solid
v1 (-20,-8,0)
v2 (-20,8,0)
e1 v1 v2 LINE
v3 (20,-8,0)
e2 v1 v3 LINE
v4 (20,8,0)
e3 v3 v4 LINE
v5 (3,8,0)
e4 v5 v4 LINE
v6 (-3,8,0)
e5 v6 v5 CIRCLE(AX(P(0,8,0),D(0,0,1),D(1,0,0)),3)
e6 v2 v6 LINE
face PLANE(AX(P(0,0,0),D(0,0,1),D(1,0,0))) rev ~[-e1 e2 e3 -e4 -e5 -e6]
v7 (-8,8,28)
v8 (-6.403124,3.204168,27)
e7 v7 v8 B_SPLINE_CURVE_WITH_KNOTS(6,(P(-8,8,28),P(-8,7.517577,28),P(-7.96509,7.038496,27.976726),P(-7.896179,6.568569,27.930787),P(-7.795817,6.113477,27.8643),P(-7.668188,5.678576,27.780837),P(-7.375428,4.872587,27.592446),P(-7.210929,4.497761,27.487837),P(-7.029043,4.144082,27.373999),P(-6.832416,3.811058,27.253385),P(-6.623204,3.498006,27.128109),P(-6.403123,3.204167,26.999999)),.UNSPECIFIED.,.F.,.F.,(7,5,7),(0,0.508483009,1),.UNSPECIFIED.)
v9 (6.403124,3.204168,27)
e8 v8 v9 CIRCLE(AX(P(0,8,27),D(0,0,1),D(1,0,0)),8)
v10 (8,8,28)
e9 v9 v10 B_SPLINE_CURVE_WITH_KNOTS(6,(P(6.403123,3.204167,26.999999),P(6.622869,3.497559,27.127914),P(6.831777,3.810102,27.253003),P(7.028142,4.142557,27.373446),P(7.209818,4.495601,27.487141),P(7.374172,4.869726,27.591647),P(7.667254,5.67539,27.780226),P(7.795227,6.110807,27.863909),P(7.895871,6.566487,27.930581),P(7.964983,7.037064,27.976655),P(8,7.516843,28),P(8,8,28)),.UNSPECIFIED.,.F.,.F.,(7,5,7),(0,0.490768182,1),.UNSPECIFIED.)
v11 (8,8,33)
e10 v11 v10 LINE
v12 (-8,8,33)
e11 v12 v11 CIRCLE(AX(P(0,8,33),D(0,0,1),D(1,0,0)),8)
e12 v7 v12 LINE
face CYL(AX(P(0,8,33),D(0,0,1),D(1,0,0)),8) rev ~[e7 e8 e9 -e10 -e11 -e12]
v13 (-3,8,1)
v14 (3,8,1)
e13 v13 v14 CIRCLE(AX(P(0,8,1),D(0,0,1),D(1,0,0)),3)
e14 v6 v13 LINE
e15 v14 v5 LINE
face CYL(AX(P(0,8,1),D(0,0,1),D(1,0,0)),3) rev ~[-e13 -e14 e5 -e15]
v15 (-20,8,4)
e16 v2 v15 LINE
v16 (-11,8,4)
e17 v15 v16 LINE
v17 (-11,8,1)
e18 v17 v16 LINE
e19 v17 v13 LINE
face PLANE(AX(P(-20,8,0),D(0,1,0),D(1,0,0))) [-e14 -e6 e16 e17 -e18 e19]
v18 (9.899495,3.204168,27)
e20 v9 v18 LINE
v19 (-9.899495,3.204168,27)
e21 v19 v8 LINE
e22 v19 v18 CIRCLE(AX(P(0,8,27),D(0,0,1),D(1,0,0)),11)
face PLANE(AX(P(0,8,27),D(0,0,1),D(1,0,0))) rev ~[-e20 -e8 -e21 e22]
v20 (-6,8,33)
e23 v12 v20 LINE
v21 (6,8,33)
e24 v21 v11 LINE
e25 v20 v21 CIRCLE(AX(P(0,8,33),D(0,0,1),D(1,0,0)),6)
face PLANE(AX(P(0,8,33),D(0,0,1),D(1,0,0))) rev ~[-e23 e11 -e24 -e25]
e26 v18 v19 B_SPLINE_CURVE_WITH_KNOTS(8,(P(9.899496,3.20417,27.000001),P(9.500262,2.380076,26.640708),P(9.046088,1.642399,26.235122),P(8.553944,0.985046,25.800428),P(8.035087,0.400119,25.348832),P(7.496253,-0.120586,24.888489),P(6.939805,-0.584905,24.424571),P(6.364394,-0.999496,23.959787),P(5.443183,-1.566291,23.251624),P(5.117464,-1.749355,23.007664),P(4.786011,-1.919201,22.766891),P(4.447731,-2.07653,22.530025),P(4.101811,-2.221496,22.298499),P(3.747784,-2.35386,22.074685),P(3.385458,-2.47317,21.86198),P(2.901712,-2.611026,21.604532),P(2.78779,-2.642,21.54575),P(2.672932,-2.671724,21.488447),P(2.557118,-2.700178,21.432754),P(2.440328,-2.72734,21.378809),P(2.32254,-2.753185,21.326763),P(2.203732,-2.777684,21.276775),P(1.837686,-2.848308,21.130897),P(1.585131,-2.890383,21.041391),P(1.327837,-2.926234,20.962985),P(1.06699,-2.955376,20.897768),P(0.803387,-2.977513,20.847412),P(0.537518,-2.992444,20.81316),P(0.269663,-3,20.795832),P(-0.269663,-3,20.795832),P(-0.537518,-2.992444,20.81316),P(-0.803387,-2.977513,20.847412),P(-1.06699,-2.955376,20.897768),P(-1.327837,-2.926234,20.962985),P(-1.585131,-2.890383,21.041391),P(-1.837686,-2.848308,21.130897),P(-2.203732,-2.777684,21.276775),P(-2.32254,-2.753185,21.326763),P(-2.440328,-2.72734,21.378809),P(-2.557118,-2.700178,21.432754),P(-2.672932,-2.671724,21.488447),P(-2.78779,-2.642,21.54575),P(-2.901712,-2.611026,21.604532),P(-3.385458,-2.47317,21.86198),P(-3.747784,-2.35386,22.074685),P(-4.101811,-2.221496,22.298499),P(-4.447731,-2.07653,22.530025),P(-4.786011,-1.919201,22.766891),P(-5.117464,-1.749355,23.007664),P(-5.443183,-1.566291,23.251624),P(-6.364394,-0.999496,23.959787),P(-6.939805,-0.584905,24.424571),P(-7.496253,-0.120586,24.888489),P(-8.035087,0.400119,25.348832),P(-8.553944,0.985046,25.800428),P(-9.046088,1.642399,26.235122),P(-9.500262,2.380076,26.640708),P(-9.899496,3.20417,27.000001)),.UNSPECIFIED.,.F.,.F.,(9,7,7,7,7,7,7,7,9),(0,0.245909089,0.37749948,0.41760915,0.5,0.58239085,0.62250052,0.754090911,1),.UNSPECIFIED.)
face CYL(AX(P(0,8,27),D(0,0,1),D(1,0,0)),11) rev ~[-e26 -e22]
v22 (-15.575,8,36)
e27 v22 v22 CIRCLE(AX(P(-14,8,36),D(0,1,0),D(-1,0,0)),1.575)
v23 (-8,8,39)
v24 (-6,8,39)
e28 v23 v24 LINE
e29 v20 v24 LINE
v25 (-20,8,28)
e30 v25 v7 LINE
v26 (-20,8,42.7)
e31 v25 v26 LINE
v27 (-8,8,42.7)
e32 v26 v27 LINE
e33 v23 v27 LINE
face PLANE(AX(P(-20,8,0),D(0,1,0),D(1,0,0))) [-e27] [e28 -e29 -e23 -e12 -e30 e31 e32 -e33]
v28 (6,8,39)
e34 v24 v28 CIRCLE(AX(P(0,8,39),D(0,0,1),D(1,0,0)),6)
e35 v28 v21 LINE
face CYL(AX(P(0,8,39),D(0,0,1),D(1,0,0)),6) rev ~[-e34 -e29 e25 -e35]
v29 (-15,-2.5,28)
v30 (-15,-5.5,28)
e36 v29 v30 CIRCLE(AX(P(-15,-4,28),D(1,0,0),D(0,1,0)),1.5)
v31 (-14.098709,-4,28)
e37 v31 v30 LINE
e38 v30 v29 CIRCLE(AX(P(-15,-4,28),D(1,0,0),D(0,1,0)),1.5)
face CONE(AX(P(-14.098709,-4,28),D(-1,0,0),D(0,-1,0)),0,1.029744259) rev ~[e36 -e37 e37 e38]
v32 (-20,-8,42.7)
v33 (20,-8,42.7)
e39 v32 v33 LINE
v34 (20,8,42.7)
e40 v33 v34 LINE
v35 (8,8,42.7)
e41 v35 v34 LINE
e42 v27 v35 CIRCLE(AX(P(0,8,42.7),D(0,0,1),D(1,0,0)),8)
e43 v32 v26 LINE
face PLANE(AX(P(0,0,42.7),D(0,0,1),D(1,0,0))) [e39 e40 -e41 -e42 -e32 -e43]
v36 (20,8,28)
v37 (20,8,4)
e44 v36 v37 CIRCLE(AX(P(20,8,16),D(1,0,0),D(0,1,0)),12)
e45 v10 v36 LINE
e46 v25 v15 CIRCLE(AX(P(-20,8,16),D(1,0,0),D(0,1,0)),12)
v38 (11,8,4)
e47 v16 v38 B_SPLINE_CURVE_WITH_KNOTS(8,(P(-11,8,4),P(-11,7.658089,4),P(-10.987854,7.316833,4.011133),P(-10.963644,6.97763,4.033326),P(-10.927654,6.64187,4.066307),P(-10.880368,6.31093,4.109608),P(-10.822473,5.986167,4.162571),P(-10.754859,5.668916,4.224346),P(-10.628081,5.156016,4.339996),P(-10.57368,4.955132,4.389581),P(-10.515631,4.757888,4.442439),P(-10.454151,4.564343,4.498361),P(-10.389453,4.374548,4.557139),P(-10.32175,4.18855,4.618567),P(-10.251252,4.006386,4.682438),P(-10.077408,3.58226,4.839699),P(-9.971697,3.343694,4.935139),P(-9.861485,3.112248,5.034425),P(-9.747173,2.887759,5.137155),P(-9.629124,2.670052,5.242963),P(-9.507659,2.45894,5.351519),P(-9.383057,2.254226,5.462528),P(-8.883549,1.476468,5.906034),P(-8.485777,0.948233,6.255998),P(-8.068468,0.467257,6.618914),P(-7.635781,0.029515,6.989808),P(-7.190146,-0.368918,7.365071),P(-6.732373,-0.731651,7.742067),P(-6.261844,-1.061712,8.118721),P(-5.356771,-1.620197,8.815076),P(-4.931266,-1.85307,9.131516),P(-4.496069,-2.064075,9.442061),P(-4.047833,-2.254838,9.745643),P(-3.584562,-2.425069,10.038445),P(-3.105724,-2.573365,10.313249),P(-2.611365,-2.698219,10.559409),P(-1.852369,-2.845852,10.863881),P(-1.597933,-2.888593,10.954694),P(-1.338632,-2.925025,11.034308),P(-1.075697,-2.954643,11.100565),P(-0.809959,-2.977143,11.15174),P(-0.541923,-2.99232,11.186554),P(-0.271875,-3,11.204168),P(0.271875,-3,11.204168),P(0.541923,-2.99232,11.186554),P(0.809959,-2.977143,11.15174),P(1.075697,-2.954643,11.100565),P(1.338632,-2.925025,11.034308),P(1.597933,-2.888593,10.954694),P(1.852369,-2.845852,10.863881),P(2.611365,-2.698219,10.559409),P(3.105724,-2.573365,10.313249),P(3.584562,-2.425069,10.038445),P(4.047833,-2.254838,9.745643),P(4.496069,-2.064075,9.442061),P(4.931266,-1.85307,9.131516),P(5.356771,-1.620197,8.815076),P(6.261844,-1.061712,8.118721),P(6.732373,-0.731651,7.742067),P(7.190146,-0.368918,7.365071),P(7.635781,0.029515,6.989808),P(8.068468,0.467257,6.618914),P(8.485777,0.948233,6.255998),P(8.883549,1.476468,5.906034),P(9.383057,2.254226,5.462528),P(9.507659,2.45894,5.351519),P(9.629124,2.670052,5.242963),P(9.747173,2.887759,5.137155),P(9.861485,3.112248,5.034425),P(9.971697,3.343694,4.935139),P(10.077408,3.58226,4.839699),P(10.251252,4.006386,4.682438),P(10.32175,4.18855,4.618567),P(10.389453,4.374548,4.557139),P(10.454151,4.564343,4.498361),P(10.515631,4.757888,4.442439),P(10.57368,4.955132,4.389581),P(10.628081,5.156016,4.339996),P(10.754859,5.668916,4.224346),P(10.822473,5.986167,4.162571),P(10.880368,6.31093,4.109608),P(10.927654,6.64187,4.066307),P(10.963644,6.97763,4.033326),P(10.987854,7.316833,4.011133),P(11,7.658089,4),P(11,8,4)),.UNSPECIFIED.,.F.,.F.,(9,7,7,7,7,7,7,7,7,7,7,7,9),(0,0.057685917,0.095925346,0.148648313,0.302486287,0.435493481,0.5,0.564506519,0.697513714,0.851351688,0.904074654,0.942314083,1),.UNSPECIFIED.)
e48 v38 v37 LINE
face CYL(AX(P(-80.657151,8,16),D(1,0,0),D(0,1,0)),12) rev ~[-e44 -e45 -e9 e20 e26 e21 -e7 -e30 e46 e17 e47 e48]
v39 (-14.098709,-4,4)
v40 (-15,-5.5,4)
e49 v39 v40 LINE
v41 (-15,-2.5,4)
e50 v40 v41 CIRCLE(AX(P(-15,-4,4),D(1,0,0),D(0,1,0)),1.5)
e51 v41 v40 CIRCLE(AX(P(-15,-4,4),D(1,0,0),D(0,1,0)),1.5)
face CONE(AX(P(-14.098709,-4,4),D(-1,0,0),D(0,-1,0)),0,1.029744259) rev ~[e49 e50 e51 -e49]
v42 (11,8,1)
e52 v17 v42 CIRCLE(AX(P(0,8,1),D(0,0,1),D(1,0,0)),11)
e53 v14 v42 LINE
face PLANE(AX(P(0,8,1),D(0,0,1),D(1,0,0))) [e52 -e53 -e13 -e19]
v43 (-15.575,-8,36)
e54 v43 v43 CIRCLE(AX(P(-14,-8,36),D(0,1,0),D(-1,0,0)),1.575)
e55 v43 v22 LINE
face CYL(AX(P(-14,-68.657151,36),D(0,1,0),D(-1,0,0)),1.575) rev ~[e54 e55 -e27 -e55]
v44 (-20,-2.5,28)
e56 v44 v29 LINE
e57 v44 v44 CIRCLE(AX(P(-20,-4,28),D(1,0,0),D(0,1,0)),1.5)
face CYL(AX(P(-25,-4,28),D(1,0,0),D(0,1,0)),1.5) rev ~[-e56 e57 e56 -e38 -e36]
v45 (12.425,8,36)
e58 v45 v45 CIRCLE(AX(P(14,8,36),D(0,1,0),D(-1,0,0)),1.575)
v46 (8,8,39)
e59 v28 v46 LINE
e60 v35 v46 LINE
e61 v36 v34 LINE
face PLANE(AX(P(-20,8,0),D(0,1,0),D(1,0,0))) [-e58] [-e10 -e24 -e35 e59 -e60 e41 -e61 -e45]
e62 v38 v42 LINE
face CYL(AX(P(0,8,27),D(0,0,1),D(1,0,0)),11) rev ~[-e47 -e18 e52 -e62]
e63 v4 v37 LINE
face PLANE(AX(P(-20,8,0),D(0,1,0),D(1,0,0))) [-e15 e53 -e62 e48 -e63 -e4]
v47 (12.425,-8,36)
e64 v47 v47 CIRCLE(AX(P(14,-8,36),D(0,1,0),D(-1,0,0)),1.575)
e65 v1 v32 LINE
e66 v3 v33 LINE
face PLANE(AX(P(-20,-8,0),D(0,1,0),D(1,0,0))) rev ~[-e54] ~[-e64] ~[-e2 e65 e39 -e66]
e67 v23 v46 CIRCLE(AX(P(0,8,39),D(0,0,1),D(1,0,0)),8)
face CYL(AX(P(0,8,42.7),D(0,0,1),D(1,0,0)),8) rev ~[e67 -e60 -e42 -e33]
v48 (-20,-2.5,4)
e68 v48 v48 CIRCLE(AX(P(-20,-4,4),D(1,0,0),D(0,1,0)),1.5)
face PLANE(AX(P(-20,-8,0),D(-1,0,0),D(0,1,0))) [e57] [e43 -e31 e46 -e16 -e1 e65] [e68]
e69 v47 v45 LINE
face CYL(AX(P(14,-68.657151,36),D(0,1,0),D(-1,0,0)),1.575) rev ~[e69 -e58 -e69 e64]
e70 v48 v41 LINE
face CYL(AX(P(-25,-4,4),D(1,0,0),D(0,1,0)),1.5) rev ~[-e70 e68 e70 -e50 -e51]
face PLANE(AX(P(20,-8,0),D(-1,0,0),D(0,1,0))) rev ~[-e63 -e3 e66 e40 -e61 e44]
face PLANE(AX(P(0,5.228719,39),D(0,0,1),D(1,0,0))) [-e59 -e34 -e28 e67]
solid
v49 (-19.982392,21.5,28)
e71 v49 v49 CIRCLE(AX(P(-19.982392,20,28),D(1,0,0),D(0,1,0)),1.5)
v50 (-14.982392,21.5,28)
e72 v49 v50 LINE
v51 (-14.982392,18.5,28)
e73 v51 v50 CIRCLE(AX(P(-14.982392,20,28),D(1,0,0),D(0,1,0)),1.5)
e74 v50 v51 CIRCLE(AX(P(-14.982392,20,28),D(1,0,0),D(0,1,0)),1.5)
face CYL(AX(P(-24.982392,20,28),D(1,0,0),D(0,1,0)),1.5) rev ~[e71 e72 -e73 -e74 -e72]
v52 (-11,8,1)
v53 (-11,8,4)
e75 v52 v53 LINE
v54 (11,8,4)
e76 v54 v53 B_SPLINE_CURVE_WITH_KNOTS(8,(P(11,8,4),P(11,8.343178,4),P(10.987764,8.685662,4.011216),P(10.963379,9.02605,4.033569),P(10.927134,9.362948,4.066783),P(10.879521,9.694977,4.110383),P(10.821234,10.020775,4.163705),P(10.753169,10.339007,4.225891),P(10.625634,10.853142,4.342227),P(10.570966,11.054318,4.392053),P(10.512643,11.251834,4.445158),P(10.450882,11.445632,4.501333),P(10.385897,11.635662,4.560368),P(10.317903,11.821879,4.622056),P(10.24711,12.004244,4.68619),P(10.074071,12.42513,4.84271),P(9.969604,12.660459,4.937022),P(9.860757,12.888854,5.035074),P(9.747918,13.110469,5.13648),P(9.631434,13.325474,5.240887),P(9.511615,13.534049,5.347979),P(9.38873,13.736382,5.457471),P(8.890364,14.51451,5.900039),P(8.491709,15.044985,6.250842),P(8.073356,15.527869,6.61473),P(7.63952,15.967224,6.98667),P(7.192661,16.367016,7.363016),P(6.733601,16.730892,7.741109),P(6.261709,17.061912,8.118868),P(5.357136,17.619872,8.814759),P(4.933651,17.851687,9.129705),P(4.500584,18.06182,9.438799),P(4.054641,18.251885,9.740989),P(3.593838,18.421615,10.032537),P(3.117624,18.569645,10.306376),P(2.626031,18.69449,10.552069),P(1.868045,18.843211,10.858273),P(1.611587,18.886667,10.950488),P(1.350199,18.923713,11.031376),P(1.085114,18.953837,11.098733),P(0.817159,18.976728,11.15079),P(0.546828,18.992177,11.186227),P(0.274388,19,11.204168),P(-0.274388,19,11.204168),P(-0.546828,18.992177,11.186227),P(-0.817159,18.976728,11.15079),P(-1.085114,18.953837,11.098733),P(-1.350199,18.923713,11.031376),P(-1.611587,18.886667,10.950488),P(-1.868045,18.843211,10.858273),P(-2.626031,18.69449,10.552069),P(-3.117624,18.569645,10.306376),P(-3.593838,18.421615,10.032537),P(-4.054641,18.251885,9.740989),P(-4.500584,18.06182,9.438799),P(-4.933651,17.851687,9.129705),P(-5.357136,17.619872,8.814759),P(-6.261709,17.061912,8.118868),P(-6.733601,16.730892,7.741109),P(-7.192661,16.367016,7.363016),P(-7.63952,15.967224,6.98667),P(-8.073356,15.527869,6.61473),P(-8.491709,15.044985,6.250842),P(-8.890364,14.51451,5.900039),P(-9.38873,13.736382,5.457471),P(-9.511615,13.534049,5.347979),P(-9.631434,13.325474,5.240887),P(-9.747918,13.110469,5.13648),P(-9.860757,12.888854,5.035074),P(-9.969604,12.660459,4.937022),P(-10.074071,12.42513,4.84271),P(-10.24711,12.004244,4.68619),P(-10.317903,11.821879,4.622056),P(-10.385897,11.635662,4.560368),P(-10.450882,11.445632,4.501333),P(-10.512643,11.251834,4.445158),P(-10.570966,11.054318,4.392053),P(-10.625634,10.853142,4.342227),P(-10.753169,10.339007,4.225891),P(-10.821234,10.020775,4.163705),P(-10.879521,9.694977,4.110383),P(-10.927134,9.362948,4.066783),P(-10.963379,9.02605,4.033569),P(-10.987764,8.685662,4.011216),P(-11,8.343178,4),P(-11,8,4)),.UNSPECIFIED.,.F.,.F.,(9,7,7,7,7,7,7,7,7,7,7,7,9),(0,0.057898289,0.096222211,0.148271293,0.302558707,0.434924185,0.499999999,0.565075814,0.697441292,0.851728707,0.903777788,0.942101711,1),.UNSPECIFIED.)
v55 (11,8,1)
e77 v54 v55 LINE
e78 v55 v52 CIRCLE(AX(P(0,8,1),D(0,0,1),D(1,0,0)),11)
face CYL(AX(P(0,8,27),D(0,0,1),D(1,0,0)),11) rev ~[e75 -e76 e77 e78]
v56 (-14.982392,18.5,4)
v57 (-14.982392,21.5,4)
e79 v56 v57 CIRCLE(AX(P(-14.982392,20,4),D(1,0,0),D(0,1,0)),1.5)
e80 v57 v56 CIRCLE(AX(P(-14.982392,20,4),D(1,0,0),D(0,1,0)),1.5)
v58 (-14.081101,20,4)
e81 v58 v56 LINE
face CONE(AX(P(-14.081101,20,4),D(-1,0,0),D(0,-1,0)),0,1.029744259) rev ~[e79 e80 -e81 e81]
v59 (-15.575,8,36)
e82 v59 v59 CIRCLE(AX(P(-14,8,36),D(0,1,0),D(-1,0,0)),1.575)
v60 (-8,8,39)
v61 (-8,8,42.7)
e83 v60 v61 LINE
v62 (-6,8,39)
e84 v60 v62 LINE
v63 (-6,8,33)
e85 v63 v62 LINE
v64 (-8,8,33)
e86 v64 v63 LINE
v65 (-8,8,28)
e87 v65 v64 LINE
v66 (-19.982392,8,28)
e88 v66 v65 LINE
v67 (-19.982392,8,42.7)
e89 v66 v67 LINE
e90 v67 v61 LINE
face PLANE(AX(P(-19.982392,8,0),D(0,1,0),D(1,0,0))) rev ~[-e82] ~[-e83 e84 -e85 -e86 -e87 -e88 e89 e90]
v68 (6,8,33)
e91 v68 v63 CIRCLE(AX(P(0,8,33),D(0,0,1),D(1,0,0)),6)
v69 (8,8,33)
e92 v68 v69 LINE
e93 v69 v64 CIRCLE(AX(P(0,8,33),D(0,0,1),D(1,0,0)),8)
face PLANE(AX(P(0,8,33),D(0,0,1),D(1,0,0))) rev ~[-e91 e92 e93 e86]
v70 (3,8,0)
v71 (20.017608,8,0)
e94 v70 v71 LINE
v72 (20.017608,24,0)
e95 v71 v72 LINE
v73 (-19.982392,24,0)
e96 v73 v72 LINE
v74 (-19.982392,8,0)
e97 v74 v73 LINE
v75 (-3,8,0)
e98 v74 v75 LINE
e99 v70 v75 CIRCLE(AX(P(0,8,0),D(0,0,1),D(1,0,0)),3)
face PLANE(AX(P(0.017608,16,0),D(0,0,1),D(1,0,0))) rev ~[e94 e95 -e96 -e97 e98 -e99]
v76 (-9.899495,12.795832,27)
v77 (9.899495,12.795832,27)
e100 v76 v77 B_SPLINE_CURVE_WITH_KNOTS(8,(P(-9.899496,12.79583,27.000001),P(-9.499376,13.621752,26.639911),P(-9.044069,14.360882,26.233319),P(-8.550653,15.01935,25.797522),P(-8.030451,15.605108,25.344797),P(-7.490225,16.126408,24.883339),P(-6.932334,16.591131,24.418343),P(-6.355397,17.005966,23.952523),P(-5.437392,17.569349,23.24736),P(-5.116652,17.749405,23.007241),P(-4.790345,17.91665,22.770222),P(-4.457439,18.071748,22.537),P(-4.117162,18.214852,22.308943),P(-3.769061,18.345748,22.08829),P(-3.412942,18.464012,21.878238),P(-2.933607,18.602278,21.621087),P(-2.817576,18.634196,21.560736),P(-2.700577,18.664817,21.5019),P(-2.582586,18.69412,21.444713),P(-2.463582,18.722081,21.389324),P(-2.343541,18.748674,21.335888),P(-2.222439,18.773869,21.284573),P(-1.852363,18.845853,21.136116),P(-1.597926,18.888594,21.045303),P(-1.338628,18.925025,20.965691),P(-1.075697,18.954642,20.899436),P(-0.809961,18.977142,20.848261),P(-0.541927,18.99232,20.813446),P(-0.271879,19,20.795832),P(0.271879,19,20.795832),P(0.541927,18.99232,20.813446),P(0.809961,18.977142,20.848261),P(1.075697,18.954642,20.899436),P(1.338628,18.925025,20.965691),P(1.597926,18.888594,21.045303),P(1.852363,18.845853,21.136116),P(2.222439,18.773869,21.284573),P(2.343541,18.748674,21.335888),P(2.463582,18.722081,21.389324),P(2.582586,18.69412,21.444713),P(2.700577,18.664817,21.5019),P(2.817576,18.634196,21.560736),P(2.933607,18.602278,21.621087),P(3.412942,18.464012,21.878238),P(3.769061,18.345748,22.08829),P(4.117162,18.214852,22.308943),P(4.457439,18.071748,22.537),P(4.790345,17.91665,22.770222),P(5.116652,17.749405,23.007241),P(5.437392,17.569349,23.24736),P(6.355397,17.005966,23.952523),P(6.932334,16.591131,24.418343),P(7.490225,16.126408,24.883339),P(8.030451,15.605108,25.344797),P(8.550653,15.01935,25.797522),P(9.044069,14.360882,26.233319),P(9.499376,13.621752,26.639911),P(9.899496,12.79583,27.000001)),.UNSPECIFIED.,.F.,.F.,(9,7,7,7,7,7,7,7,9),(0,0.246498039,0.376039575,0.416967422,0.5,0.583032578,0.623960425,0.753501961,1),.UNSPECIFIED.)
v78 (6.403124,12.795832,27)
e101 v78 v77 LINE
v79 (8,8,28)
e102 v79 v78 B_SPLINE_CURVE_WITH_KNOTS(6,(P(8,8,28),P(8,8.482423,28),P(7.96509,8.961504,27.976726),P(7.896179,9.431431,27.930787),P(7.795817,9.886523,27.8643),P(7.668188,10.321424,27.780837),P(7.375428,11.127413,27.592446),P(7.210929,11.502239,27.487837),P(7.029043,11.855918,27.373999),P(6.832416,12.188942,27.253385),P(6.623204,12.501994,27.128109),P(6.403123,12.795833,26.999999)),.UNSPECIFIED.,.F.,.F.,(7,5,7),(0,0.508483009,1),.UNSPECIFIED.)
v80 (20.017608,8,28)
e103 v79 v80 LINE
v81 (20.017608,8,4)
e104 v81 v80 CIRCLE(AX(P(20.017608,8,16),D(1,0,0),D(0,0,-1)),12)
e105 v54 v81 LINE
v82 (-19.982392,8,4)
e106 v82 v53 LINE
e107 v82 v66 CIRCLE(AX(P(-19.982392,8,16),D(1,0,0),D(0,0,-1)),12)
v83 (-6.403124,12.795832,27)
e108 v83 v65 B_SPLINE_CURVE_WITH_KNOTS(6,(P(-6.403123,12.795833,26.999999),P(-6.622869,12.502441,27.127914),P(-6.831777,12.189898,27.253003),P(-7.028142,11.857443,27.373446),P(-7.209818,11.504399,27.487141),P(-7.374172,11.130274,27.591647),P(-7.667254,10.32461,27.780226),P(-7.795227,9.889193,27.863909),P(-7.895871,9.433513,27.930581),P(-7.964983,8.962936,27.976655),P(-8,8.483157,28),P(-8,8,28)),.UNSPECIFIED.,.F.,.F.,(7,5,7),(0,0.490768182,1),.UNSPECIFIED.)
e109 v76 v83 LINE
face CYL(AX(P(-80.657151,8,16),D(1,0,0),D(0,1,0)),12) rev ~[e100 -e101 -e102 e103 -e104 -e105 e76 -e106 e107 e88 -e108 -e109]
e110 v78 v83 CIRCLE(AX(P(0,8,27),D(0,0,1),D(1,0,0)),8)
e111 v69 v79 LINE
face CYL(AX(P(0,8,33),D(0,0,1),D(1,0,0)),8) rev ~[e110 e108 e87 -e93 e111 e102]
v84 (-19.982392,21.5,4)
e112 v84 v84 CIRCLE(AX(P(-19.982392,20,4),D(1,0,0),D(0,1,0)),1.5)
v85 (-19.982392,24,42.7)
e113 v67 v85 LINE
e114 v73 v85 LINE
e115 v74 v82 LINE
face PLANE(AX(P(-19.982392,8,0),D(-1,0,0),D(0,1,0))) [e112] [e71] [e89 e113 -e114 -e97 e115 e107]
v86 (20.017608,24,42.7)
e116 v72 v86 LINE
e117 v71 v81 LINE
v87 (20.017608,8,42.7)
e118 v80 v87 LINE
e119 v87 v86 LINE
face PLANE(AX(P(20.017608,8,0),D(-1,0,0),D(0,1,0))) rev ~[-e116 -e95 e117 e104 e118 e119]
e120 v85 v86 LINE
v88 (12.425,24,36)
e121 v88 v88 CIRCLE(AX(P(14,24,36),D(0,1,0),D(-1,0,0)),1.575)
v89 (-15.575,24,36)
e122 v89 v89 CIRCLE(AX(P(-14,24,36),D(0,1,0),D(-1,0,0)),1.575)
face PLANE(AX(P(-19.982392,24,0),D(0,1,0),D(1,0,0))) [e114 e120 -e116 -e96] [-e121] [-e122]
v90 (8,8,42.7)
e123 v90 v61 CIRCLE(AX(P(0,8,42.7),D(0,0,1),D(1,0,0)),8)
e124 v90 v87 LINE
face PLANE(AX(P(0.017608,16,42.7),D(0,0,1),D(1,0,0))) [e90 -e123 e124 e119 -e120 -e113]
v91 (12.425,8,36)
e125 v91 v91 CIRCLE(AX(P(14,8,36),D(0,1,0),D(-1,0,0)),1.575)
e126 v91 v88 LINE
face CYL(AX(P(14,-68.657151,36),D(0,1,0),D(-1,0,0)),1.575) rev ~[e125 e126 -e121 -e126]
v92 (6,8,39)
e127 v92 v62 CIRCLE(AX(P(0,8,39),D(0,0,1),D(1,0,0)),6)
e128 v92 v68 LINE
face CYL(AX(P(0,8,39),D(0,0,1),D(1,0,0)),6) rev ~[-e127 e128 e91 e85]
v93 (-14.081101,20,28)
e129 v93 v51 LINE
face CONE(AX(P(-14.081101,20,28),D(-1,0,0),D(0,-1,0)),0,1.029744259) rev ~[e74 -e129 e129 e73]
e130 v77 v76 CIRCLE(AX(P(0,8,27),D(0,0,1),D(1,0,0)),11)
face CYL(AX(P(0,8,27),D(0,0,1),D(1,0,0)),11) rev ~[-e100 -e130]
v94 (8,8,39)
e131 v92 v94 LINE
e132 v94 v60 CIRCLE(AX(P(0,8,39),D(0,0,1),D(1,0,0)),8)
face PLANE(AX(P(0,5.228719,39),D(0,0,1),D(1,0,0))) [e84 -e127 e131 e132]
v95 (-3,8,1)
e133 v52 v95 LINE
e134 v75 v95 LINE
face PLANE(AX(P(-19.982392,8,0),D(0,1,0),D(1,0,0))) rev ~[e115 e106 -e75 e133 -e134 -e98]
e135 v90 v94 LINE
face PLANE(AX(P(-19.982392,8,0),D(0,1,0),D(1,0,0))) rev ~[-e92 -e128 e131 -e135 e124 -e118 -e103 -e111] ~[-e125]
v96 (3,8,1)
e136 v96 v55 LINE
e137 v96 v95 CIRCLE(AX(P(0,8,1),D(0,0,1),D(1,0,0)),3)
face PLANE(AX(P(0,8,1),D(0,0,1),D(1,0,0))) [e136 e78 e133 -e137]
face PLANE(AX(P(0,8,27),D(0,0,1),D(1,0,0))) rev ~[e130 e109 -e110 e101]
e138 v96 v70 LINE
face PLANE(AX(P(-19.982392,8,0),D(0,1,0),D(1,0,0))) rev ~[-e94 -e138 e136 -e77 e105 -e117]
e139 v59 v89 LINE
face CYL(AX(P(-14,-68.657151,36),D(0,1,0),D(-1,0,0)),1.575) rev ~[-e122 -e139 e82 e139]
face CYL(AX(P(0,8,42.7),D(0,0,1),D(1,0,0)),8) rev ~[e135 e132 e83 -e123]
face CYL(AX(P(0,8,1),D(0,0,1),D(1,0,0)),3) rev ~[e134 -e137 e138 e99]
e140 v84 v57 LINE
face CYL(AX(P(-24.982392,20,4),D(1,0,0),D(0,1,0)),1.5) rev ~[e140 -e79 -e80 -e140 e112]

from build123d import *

# Parameters (mm, degrees)
F0_W      = 40
F0_H      = 16
F2_DEPTH  = 42.7
F1_W      = 40
F1_H      = 16
F3_DEPTH  = 42.7
F5_DEPTH  = 3.7
F6_R      = 6
F7_DEPTH  = 6
F8_R      = 8
F9_DEPTH  = 6
F10_R     = 11
F11_DEPTH = 26
F12_R     = 3
F13_DEPTH = 1
F16_D     = 3
F16_DEPTH = 5
F16_TIP   = 0.9012909285
F18_D     = 3
F18_DEPTH = 5
F18_TIP   = 0.9012909285
F20_D     = 3
F20_DEPTH = 5
F20_TIP   = 0.9012909285
F22_D     = 3
F22_DEPTH = 5
F22_TIP   = 0.9012909285
F24_D     = 3.15
F24_2_D   = 3.15
F26_D     = 3.15
F26_2_D   = 3.15
F28_D     = 24
F28_2_D   = 24


with BuildPart() as f2:
    # F0 (on Top) → F2 (new body)
    with BuildSketch(Plane.XY):
        Rectangle(F0_W, F0_H)
    extrude(amount=F2_DEPTH)


with BuildPart() as f3:
    # F1 (on face) → F3 (new body)
    with BuildSketch(Plane.XY):
        with Locations((0.0176080316, 16)):
            Rectangle(F1_W, F1_H)
    extrude(amount=F3_DEPTH)


with BuildPart() as f5_tool:
    # F4 (on face) → F5 (new body)
    with BuildSketch(Plane.XY.offset(42.7)):
        with BuildLine():
            ThreePointArc((-8, 8), (0, 0), (8, 8))
            Line((8, 8), (-8, 8))
        make_face()
        with BuildLine():
            Line((-8, 8), (8, 8))
            ThreePointArc((8, 8), (0, 16), (-8, 8))
        make_face()
    extrude(amount=-F5_DEPTH)


with BuildPart() as f2_1:
    add(f2.part)

    # F5: cut by f5_tool
    add(f5_tool.part, mode=Mode.SUBTRACT)


with BuildPart() as f3_1:
    add(f3.part)

    # F5: cut by f5_tool
    add(f5_tool.part, mode=Mode.SUBTRACT)


with BuildPart() as f7_tool:
    # F6 (on face) → F7 (new body)
    with BuildSketch(Plane.XY.offset(39)):
        with Locations((0, 8)):
            Circle(F6_R)
    extrude(amount=-F7_DEPTH)


with BuildPart() as f2_2:
    add(f2_1.part)

    # F7: cut by f7_tool
    add(f7_tool.part, mode=Mode.SUBTRACT)


with BuildPart() as f3_2:
    add(f3_1.part)

    # F7: cut by f7_tool
    add(f7_tool.part, mode=Mode.SUBTRACT)


with BuildPart() as f9_tool:
    # F8 (on face) → F9 (new body)
    with BuildSketch(Plane.XY.offset(33)):
        with Locations((0, 8)):
            Circle(F8_R)
    extrude(amount=-F9_DEPTH)


with BuildPart() as f2_3:
    add(f2_2.part)

    # F9: cut by f9_tool
    add(f9_tool.part, mode=Mode.SUBTRACT)


with BuildPart() as f3_3:
    add(f3_2.part)

    # F9: cut by f9_tool
    add(f9_tool.part, mode=Mode.SUBTRACT)


with BuildPart() as f11_tool:
    # F10 (on face) → F11 (new body)
    with BuildSketch(Plane.XY.offset(27)):
        with Locations((0, 8)):
            Circle(F10_R)
    extrude(amount=-F11_DEPTH)


with BuildPart() as f2_4:
    add(f2_3.part)

    # F11: cut by f11_tool
    add(f11_tool.part, mode=Mode.SUBTRACT)


with BuildPart() as f3_4:
    add(f3_3.part)

    # F11: cut by f11_tool
    add(f11_tool.part, mode=Mode.SUBTRACT)


with BuildPart() as f13_tool:
    # F12 (on face) → F13 (new body)
    with BuildSketch(Plane.XY.offset(1)):
        with Locations((0, 8)):
            Circle(F12_R)
    extrude(amount=-F13_DEPTH)


with BuildPart() as f2_5:
    add(f2_4.part)

    # F13: cut by f13_tool
    add(f13_tool.part, mode=Mode.SUBTRACT)

    # F16
    with Locations(Plane(origin=(-20, 0, 0), x_dir=(0, -1, 0), z_dir=(-1, 0, 0))):
        with Locations((4, 4)):
            Hole(F16_D / 2, depth=F16_DEPTH)
            with Locations((0, 0, -(F16_DEPTH + F16_TIP / 2))):  # 118° drill point
                Cone(0, F16_D / 2, F16_TIP, mode=Mode.SUBTRACT)

    # F20
    with Locations(Plane(origin=(-20, 0, 0), x_dir=(0, -1, 0), z_dir=(-1, 0, 0))):
        with Locations((4, 28)):
            Hole(F20_D / 2, depth=F20_DEPTH)
            with Locations((0, 0, -(F20_DEPTH + F20_TIP / 2))):  # 118° drill point
                Cone(0, F20_D / 2, F20_TIP, mode=Mode.SUBTRACT)

    # F24 (through all)
    with Locations(Plane.XZ.offset(8)):
        with Locations((-14, 36)):
            Hole(F24_D / 2)

    # F26 (through all)
    with Locations(Plane.XZ.offset(8)):
        with Locations((14, 36)):
            Hole(F26_D / 2)

    # F28 (through all)
    with Locations(Plane(origin=(-20, 0, 0), x_dir=(0, -1, 0), z_dir=(-1, 0, 0))):
        with Locations((-8, 16)):
            Hole(F28_D / 2)


with BuildPart() as f3_5:
    add(f3_4.part)

    # F13: cut by f13_tool
    add(f13_tool.part, mode=Mode.SUBTRACT)

    # F18
    with Locations(Plane(origin=(-19.9823919684, 0, 0), x_dir=(0, -1, 0), z_dir=(-1, 0, 0))):
        with Locations((-20, 4)):
            Hole(F18_D / 2, depth=F18_DEPTH)
            with Locations((0, 0, -(F18_DEPTH + F18_TIP / 2))):  # 118° drill point
                Cone(0, F18_D / 2, F18_TIP, mode=Mode.SUBTRACT)

    # F22
    with Locations(Plane(origin=(-19.9823919684, 0, 0), x_dir=(0, -1, 0), z_dir=(-1, 0, 0))):
        with Locations((-20, 28)):
            Hole(F22_D / 2, depth=F22_DEPTH)
            with Locations((0, 0, -(F22_DEPTH + F22_TIP / 2))):  # 118° drill point
                Cone(0, F22_D / 2, F22_TIP, mode=Mode.SUBTRACT)

    # F24#2 (through all)
    with Locations(Plane.XZ.offset(8)):
        with Locations((-14, 36)):
            Hole(F24_2_D / 2)

    # F26#2 (through all)
    with Locations(Plane.XZ.offset(8)):
        with Locations((14, 36)):
            Hole(F26_2_D / 2)

    # F28#2 (through all)
    with Locations(Plane(origin=(-20, 0, 0), x_dir=(0, -1, 0), z_dir=(-1, 0, 0))):
        with Locations((-8, 16)):
            Hole(F28_2_D / 2)


solid = Compound([f2_5.part, f3_5.part])
